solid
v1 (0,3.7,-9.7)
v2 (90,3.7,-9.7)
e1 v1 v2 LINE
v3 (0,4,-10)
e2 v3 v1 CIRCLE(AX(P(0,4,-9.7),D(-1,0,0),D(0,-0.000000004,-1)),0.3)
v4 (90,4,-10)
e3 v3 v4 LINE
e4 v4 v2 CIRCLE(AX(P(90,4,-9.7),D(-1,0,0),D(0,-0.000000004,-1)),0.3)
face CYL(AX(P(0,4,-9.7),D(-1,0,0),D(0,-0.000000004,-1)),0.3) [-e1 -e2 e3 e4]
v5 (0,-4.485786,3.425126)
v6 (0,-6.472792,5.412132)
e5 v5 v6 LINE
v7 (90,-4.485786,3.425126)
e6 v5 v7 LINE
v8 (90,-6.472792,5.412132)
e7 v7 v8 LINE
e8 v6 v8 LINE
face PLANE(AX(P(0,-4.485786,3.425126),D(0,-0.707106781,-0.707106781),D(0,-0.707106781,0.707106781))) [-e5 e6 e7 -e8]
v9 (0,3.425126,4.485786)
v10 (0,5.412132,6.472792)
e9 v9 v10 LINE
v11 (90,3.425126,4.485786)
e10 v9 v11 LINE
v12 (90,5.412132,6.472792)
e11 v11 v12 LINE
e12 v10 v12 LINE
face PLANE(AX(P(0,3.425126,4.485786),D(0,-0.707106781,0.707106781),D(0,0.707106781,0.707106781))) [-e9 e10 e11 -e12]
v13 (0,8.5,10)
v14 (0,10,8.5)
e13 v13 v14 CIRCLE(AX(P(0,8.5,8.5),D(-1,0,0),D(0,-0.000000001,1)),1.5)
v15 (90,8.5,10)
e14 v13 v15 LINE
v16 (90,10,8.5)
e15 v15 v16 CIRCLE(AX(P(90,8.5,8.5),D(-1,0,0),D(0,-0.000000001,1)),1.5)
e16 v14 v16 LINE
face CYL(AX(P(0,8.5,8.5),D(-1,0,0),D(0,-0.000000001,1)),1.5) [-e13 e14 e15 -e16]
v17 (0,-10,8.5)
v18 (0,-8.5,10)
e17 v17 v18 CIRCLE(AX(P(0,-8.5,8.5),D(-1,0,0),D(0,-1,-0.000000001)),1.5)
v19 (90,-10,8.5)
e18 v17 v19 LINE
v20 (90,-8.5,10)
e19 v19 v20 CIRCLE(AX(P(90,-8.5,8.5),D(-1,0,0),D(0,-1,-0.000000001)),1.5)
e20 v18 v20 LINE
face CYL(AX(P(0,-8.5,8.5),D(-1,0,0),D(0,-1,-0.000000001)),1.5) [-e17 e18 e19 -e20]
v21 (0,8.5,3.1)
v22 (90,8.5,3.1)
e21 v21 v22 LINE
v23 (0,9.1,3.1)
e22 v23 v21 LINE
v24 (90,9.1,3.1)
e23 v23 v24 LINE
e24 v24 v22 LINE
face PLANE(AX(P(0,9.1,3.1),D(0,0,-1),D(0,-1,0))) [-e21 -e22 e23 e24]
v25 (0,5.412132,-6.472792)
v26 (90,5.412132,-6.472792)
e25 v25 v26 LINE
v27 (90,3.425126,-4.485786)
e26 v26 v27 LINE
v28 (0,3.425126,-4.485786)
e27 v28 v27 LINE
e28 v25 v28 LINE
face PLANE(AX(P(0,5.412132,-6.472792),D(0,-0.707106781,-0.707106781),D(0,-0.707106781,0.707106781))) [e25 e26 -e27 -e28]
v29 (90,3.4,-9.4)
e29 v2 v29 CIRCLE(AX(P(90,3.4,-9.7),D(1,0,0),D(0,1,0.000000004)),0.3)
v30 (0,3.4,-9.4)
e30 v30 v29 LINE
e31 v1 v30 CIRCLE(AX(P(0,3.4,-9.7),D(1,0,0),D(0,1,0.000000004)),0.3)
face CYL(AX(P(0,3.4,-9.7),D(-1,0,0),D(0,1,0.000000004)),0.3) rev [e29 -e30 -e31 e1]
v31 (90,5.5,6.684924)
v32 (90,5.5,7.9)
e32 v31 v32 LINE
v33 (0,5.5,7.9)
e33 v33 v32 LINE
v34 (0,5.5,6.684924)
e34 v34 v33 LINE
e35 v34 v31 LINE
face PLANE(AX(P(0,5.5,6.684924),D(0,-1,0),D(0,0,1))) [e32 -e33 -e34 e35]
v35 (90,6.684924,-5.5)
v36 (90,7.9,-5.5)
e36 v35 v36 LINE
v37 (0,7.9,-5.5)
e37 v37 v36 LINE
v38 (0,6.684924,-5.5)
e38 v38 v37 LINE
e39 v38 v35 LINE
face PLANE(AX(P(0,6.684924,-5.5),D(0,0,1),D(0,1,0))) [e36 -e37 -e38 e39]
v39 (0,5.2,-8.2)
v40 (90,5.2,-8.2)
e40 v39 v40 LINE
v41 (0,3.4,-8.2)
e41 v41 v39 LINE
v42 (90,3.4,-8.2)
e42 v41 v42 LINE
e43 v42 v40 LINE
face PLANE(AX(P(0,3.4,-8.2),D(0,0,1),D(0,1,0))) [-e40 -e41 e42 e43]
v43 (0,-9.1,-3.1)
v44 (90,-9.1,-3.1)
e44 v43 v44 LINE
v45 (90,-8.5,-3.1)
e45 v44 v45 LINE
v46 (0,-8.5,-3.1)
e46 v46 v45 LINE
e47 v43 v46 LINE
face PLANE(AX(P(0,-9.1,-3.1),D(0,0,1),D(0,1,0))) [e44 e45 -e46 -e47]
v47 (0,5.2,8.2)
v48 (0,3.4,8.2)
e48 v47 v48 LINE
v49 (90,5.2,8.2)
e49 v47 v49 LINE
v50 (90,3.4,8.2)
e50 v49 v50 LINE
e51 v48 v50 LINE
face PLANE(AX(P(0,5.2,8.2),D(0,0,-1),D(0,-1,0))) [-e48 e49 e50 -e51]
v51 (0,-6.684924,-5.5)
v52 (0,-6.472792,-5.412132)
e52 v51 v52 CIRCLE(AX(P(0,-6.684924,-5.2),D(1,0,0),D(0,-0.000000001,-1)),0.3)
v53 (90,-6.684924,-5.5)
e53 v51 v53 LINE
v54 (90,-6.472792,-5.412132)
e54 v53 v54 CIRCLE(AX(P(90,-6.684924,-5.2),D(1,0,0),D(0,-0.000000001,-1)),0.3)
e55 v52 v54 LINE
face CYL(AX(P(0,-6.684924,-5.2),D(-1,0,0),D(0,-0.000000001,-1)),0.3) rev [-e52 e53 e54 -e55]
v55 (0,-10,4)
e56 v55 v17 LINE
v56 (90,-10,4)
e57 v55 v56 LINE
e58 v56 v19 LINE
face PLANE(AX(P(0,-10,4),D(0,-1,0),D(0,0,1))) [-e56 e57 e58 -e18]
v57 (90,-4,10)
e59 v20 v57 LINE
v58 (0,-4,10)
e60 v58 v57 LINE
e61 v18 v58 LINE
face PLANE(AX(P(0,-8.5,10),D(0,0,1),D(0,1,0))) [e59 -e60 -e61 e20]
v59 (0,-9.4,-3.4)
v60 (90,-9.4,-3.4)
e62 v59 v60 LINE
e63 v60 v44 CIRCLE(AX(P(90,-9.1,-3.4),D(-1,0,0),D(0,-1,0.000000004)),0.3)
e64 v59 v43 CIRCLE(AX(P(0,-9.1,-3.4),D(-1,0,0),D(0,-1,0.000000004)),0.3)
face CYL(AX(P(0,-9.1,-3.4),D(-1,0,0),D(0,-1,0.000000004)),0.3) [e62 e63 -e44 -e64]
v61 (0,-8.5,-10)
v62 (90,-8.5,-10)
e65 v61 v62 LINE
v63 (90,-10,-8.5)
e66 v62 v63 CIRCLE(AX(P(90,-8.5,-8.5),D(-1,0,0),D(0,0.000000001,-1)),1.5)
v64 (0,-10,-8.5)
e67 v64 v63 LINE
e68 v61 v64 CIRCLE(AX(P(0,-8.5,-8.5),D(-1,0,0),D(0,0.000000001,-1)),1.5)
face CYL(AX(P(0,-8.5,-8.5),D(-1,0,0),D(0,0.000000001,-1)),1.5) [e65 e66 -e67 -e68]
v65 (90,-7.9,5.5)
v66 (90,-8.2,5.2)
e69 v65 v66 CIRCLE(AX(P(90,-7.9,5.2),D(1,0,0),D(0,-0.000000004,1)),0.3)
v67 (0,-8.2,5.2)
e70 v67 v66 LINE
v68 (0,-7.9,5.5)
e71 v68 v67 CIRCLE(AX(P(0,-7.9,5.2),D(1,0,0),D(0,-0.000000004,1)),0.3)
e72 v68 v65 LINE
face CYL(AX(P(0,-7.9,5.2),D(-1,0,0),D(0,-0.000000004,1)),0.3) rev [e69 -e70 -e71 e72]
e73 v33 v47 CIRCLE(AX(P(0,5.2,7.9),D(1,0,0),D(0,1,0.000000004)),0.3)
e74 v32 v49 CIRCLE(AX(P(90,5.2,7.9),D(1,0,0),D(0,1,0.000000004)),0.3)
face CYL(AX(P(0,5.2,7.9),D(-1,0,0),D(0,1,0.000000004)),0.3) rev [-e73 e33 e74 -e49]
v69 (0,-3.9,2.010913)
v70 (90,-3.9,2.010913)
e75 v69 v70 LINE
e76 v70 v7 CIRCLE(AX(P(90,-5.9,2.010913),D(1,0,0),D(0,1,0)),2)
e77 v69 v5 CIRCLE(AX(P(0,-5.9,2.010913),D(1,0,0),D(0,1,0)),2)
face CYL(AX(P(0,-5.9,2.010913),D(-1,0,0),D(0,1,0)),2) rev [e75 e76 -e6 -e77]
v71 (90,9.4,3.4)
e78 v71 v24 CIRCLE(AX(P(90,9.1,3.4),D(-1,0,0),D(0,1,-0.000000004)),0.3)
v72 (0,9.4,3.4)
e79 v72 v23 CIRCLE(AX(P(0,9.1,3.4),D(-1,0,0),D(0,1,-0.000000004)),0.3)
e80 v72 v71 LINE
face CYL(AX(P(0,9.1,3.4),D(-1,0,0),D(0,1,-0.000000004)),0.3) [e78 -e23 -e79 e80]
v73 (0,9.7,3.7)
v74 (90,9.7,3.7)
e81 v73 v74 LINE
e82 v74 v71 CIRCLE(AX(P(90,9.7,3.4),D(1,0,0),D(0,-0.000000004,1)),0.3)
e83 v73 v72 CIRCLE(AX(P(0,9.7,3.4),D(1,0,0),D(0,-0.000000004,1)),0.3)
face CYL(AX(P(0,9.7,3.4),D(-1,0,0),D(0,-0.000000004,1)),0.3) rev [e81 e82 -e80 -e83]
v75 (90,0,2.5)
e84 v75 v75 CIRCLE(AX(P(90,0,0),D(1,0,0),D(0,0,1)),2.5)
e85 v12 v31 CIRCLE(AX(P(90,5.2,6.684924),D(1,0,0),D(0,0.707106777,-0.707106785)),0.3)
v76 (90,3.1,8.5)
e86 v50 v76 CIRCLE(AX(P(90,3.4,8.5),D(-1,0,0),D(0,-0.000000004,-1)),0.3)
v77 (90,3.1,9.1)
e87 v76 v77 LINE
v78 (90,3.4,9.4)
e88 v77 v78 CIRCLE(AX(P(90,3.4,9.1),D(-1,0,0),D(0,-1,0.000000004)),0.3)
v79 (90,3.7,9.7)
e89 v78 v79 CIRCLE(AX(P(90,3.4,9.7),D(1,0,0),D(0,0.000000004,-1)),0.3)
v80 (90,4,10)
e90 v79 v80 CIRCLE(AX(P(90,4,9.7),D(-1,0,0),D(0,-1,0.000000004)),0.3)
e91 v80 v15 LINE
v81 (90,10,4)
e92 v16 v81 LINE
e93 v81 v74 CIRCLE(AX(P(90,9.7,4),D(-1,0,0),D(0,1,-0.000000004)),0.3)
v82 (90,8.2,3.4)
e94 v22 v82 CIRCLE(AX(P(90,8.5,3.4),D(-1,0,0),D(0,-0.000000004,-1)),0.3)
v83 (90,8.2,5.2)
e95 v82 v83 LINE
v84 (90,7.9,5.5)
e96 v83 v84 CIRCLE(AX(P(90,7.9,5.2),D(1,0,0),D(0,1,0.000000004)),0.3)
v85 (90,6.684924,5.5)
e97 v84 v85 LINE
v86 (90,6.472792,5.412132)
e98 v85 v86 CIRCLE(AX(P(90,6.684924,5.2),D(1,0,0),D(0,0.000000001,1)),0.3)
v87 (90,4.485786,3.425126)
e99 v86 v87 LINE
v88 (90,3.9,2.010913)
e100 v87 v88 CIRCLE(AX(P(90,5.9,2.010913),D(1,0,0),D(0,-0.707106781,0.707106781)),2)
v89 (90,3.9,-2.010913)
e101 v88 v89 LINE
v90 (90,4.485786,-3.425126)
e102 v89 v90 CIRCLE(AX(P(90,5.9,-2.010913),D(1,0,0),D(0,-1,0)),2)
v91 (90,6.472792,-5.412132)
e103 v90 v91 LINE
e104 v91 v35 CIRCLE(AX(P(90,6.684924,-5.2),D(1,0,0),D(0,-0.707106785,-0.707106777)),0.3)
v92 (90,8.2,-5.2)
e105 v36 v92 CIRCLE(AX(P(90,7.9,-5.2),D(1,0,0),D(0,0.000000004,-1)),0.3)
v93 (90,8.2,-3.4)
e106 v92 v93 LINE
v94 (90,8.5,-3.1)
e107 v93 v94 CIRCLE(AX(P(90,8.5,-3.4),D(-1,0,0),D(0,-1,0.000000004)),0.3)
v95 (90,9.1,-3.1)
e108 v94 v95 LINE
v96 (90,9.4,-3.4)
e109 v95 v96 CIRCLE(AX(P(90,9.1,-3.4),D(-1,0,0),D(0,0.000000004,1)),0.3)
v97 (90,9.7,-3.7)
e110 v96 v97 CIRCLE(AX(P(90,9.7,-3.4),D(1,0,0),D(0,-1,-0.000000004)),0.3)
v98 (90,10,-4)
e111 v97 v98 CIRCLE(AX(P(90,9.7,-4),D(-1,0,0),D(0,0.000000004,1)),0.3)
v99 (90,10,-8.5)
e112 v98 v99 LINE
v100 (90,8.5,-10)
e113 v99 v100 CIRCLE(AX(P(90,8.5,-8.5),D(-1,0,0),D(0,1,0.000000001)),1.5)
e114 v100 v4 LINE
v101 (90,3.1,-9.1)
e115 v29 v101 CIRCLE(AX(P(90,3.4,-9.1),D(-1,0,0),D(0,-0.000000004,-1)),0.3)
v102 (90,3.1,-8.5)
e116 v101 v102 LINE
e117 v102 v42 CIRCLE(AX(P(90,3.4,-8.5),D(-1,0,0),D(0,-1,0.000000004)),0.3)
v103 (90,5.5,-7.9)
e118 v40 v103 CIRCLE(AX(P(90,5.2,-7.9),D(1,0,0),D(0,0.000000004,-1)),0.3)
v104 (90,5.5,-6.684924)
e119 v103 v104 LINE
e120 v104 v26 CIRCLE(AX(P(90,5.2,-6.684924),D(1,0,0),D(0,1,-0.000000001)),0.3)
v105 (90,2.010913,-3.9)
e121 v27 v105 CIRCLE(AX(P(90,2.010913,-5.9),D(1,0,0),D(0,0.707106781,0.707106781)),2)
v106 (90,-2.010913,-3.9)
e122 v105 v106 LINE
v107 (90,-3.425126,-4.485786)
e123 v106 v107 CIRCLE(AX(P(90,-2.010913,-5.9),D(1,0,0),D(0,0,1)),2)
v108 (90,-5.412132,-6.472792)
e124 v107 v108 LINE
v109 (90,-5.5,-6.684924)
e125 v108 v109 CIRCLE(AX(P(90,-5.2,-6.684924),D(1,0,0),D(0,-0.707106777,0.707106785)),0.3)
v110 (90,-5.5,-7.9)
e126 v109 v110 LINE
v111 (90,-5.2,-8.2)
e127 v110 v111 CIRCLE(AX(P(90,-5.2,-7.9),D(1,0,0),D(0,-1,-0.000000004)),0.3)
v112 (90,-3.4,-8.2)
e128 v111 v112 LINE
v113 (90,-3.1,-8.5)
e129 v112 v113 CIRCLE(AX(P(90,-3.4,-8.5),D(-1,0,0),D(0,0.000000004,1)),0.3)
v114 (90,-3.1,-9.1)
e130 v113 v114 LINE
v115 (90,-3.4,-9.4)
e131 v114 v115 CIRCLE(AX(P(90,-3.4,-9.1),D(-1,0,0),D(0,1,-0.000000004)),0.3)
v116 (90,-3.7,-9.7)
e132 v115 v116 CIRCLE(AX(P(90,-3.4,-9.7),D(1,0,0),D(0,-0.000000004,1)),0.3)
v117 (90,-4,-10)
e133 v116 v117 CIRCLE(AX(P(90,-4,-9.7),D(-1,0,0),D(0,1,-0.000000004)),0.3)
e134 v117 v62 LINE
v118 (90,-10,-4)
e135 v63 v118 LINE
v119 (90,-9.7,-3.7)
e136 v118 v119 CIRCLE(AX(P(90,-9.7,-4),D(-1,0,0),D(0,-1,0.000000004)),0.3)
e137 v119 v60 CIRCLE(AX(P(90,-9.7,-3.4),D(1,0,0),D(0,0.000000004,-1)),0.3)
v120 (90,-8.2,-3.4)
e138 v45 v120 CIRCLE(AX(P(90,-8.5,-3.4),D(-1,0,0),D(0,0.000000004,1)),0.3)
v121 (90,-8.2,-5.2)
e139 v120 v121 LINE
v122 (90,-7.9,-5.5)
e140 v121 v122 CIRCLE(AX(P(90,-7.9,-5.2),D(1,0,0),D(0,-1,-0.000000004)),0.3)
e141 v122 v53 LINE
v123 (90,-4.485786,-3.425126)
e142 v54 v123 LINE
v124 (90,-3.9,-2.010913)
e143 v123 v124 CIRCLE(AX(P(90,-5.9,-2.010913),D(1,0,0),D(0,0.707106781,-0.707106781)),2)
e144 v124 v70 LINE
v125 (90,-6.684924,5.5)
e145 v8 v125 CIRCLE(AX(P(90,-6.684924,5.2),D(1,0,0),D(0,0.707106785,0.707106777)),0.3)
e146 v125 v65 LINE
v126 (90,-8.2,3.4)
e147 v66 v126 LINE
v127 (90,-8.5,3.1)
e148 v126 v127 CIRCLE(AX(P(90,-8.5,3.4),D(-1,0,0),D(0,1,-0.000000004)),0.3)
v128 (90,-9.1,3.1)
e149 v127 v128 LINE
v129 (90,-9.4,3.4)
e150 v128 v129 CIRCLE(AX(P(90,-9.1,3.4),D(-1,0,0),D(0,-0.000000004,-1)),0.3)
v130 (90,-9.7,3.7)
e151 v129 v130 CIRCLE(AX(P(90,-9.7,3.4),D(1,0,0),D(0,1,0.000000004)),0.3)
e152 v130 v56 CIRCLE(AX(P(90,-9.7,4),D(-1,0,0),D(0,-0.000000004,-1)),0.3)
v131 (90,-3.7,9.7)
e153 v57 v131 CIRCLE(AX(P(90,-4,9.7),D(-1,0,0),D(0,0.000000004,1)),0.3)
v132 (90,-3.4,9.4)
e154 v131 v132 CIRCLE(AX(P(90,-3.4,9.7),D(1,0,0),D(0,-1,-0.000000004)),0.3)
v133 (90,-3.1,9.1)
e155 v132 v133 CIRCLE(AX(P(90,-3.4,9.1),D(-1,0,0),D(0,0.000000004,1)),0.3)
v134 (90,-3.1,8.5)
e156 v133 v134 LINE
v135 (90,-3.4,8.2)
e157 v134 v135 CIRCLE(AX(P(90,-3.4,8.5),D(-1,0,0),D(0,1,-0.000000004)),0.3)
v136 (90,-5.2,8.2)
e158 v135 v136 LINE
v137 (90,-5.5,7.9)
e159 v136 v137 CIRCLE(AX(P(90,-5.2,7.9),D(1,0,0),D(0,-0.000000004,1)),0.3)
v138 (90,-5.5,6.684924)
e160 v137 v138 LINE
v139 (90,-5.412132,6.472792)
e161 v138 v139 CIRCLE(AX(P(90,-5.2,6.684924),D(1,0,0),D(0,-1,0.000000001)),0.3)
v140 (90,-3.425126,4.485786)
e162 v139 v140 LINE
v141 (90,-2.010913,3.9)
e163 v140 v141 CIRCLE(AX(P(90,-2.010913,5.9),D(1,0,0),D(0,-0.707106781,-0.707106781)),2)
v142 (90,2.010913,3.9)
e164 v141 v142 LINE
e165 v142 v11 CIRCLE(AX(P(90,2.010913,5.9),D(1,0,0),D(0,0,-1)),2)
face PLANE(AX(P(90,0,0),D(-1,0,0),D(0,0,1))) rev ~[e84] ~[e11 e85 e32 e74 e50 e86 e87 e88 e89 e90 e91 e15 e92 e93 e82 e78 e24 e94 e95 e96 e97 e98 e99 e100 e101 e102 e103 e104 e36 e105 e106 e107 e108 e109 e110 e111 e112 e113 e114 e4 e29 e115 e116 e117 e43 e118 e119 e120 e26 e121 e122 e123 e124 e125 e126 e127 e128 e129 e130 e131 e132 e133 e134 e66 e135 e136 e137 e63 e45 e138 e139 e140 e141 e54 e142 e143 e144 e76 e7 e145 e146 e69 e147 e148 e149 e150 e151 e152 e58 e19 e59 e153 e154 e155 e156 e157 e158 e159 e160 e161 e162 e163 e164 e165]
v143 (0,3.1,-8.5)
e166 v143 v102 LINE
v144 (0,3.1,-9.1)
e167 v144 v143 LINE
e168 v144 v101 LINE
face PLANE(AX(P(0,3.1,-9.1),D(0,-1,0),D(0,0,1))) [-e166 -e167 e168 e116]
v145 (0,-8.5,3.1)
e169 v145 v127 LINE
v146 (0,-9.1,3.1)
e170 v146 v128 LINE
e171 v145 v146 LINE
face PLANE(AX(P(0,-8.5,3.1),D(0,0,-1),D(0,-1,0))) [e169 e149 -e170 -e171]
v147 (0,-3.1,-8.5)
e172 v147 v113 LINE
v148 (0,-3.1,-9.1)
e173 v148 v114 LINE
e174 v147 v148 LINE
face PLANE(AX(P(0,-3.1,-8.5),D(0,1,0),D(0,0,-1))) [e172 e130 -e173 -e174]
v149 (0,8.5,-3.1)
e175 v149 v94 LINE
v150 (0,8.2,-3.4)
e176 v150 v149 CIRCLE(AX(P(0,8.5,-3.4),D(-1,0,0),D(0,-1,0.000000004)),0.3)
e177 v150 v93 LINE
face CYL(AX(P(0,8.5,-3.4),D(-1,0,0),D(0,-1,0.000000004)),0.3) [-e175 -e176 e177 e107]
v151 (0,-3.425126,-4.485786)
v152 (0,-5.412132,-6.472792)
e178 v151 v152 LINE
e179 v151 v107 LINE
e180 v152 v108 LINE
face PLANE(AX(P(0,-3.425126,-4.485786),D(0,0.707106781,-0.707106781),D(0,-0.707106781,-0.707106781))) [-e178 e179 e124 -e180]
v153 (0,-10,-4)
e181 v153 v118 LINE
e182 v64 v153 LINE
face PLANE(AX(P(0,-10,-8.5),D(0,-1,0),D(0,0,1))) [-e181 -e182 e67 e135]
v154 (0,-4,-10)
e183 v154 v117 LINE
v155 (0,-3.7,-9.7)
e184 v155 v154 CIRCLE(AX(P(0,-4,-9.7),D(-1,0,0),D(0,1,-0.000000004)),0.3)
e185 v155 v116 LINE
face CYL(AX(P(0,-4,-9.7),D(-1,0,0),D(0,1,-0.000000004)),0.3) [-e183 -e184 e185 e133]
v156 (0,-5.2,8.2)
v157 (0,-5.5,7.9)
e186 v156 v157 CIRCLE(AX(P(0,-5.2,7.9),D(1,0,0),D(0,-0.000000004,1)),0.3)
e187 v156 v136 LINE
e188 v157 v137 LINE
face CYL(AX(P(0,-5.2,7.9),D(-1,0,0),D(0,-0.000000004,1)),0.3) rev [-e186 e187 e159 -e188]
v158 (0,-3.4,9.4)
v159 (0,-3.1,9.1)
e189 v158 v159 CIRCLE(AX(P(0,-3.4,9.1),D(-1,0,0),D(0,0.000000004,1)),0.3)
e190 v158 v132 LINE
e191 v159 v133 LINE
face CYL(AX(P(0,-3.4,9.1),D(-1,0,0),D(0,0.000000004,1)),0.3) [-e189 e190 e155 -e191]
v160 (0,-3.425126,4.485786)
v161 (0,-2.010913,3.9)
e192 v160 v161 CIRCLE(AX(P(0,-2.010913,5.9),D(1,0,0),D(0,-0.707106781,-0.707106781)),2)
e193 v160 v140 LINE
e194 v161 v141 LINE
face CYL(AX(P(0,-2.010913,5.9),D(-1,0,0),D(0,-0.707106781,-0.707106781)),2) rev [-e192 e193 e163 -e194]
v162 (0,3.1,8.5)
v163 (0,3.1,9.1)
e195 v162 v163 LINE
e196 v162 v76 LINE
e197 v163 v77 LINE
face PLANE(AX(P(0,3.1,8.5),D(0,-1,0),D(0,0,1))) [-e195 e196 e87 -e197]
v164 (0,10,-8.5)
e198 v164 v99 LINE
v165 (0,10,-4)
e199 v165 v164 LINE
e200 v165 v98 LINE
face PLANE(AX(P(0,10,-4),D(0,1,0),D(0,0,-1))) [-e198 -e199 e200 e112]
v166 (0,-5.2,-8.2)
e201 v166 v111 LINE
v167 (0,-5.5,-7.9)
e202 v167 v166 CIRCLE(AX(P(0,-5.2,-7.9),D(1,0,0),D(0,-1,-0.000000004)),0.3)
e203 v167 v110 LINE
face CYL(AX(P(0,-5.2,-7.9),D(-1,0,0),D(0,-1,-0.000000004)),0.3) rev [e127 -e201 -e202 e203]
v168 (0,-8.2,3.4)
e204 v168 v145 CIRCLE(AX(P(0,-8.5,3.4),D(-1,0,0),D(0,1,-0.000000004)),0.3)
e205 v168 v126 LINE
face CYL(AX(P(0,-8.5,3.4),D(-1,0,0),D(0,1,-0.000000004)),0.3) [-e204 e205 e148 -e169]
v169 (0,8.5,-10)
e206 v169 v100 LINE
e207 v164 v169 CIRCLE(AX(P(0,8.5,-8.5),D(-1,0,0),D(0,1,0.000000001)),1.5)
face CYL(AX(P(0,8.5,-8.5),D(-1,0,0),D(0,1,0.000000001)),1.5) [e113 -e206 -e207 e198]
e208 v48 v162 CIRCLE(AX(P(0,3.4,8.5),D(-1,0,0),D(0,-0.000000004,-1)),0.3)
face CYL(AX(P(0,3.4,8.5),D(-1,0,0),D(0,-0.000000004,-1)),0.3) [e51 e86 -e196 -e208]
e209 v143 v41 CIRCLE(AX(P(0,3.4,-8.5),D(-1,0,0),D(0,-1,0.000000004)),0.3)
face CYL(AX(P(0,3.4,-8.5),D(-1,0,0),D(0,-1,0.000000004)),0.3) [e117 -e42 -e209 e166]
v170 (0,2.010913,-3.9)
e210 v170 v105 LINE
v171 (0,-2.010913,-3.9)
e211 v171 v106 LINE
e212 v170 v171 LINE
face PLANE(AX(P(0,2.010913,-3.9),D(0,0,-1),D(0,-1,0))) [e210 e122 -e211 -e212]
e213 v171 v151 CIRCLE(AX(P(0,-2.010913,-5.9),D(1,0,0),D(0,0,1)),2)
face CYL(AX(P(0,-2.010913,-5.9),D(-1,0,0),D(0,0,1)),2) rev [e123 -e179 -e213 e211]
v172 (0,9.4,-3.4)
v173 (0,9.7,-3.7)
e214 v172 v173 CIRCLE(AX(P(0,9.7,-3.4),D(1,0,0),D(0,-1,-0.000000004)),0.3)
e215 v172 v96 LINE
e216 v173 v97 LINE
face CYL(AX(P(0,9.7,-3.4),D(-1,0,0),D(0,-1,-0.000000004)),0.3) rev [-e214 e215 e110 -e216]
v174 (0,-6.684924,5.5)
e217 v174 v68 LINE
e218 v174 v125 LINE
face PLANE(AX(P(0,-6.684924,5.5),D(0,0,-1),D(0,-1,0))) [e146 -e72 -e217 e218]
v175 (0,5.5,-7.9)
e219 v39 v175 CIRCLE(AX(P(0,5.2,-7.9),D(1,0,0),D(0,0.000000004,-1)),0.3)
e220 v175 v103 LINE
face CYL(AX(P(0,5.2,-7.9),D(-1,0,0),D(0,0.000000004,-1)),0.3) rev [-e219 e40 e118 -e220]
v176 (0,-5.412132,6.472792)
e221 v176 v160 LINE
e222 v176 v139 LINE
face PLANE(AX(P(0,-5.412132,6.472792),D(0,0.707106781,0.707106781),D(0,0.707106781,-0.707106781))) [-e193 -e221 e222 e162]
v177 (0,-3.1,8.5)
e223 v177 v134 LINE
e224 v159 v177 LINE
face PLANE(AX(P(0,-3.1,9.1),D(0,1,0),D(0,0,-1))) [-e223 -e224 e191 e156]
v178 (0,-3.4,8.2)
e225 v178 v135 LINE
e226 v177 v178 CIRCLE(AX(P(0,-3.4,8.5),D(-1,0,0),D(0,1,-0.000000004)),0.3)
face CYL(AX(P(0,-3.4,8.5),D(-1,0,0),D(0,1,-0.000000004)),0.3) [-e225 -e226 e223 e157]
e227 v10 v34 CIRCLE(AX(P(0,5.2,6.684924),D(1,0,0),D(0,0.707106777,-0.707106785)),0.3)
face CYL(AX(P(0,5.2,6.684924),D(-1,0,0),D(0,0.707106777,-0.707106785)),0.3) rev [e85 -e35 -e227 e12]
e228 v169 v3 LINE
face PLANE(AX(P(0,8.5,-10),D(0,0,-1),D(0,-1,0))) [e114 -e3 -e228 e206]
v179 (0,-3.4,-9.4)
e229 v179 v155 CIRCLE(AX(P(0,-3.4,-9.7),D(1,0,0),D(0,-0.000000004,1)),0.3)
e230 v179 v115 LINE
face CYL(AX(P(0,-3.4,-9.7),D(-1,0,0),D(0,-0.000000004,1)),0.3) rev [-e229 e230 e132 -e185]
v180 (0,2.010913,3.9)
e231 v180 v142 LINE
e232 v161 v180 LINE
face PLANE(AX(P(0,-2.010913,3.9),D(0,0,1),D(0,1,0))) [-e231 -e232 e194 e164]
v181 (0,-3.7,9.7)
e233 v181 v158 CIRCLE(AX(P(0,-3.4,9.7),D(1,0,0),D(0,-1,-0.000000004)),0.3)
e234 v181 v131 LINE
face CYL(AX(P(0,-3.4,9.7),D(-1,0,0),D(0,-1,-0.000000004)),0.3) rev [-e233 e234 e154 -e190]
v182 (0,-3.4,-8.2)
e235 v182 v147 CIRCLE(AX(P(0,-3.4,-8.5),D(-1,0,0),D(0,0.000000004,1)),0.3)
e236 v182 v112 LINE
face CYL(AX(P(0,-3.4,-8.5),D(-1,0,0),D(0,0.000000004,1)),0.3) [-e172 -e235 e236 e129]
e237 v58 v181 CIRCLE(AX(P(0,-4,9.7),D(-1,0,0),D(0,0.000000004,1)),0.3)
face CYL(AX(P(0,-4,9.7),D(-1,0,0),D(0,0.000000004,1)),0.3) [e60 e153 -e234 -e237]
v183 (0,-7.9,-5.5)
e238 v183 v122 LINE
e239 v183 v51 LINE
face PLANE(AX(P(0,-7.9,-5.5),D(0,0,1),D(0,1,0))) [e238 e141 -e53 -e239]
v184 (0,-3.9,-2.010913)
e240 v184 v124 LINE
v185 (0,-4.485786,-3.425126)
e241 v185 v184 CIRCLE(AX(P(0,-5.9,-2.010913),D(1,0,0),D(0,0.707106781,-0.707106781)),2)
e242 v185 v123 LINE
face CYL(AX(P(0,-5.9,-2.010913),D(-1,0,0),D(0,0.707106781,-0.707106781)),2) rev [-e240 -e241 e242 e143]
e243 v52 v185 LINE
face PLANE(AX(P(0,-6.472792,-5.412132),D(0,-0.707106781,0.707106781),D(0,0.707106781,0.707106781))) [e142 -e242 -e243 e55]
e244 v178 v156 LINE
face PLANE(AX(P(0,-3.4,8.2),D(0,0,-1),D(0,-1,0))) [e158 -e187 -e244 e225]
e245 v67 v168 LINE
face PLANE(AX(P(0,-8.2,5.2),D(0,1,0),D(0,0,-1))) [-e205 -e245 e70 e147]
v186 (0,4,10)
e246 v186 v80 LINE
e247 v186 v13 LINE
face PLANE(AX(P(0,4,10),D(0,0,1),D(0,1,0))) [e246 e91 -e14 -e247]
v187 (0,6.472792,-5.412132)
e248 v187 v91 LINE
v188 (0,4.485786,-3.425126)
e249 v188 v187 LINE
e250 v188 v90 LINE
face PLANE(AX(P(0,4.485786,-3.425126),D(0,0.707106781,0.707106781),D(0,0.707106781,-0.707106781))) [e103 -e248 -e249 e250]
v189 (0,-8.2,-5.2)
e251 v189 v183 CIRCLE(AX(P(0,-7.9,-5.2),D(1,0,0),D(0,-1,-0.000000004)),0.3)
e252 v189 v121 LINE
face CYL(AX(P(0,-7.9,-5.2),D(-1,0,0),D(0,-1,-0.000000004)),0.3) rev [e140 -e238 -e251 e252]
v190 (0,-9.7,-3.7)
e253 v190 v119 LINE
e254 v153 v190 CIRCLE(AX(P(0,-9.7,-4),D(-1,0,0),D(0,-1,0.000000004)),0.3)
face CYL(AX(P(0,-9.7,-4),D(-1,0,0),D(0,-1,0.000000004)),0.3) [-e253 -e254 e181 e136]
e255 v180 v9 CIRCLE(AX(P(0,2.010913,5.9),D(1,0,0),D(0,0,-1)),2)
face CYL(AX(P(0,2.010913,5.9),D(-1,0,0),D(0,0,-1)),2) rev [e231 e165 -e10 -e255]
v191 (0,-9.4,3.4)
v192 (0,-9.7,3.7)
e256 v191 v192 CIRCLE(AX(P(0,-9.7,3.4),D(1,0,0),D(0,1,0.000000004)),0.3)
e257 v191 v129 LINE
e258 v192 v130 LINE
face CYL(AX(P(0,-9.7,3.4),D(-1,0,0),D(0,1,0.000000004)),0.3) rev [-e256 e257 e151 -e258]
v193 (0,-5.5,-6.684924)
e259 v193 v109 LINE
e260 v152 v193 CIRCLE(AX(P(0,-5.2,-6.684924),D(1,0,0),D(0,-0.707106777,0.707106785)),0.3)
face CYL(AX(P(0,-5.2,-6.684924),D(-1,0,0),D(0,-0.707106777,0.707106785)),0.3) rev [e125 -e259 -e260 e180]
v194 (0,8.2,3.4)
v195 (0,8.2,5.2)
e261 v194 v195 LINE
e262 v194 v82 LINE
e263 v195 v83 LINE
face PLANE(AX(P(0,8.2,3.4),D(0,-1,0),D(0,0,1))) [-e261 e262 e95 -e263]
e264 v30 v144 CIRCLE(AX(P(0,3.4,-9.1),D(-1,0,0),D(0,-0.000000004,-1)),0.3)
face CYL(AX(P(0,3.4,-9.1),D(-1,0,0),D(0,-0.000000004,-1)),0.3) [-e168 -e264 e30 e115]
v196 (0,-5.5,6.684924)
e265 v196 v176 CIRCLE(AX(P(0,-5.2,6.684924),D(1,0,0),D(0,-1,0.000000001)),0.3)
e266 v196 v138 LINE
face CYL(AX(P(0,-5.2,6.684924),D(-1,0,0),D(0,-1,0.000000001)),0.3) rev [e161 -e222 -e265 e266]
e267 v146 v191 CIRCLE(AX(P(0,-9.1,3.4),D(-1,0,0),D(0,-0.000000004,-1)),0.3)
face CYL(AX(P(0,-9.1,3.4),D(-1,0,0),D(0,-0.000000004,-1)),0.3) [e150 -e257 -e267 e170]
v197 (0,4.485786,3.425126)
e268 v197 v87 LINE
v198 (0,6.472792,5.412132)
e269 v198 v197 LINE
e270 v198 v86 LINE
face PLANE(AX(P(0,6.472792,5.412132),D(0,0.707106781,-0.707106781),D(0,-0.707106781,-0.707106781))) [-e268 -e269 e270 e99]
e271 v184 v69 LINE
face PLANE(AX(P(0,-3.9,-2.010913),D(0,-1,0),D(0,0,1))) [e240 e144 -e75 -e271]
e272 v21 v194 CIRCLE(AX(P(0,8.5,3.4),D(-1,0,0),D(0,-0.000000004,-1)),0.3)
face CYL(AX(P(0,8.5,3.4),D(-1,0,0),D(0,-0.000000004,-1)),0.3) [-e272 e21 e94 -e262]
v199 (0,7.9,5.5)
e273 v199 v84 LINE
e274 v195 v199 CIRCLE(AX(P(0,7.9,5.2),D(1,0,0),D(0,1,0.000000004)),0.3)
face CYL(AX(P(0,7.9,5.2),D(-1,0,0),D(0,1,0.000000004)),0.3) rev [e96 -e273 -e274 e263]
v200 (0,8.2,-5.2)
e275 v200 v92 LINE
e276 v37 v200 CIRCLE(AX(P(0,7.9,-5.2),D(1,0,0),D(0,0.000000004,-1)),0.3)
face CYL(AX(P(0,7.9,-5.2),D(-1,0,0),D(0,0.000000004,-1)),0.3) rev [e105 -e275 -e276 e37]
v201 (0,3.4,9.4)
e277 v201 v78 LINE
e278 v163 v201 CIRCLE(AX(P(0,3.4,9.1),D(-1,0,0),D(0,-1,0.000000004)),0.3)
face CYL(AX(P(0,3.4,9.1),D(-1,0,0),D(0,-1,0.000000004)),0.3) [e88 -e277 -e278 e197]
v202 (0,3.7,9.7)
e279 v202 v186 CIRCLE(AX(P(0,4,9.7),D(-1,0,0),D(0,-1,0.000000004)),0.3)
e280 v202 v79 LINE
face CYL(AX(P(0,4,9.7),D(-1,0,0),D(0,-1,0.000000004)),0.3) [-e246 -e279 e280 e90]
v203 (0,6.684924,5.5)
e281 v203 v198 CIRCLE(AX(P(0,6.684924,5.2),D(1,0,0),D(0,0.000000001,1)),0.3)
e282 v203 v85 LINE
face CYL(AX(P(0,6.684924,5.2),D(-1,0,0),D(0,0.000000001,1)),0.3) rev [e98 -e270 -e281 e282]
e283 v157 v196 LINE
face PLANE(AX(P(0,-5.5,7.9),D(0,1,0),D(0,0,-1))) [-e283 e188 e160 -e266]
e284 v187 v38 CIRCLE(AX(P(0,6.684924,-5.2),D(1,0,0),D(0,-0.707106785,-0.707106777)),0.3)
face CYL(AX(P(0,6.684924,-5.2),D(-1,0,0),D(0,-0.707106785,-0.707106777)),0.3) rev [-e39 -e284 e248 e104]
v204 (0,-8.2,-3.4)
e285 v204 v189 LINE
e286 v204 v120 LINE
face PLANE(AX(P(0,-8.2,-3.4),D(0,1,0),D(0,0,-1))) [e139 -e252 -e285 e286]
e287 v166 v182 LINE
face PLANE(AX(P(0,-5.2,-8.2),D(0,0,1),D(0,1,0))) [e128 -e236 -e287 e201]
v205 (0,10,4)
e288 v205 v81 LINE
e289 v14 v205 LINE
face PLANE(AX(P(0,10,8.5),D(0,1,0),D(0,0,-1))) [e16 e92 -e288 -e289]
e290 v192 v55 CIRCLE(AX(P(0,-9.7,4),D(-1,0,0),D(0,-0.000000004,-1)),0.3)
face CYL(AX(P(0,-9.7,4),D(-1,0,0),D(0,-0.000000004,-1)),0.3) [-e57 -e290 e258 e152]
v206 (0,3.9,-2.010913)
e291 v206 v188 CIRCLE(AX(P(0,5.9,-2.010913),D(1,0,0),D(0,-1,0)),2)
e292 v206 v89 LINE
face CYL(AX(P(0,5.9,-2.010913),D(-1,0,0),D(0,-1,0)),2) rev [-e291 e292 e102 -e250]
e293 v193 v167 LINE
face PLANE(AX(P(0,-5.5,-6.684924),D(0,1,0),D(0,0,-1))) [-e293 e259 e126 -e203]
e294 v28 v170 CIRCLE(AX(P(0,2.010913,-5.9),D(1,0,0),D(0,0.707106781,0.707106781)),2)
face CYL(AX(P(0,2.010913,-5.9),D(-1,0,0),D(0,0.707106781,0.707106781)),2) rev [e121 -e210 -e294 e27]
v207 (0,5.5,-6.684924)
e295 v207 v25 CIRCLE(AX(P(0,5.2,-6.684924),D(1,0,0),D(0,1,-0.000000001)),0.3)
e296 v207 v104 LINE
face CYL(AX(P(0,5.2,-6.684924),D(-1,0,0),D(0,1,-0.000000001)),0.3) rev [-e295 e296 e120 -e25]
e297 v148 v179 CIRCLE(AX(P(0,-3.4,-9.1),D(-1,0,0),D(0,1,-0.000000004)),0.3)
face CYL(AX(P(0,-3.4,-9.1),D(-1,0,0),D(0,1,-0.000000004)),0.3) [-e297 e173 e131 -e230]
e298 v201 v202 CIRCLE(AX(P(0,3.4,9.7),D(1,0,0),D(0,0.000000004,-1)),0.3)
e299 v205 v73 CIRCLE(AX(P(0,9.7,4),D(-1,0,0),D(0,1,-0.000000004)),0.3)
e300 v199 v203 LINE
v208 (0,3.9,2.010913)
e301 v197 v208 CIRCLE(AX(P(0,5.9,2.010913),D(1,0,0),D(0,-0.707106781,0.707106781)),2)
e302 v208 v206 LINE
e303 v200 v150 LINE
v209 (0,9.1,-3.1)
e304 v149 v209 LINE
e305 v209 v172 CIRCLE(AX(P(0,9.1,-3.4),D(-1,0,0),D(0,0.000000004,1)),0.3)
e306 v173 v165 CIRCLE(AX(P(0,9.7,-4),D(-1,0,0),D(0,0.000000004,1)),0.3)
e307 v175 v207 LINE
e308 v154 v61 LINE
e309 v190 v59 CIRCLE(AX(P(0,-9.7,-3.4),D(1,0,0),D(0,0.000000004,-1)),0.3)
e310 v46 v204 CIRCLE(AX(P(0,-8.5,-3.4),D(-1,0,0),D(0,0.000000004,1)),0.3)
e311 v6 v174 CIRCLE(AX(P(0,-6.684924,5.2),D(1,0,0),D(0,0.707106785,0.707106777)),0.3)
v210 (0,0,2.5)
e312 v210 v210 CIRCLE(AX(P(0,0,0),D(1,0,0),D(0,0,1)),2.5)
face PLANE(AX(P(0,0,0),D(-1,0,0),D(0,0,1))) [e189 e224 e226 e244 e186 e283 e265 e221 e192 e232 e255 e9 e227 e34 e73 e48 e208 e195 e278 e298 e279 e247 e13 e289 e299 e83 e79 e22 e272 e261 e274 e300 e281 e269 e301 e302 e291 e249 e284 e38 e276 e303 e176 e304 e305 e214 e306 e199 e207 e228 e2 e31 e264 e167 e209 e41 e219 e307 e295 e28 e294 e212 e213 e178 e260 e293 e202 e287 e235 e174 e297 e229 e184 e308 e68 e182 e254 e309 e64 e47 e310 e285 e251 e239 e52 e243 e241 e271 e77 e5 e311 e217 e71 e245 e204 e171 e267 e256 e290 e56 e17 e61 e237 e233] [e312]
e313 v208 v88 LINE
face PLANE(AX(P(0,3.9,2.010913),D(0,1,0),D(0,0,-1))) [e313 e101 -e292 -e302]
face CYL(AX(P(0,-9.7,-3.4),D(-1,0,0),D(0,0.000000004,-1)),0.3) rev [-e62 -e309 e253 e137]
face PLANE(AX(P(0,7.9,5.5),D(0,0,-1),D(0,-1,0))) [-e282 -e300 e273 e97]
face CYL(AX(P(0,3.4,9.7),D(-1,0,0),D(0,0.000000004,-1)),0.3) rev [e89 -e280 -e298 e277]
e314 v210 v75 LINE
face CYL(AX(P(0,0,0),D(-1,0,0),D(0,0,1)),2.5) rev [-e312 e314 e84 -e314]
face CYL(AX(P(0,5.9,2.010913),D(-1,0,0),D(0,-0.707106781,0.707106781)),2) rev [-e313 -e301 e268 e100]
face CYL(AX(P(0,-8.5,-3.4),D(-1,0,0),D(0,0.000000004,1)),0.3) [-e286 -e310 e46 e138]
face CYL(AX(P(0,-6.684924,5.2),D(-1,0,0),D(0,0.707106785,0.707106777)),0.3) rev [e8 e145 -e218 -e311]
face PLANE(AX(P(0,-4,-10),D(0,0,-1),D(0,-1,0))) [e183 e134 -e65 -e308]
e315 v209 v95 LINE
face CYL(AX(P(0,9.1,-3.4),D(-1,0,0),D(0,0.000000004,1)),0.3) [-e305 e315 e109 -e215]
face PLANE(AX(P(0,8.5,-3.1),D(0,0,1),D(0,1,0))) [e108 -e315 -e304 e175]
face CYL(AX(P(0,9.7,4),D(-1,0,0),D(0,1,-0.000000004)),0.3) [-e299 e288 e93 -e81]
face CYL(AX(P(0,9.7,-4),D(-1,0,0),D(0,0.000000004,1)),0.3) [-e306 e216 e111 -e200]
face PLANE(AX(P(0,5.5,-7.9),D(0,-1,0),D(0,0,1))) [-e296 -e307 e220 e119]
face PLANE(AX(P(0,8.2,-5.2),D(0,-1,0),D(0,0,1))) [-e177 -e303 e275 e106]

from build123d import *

# Parameters (mm, degrees)
SKETCH_1_R      = 2.5
EXTRUDE_1_DEPTH = 90


with BuildPart() as part:
    # 草图1 → 凸台-拉伸1 (new body)
    with BuildSketch(Plane(origin=(0, 0, 0), x_dir=(0, 0, -1), z_dir=(1, 0, 0))):
        with BuildLine():
            Line((10, 8.5), (10, 4))
            ThreePointArc((10, 4), (9.912132034, 3.787867966), (9.7, 3.7))
            ThreePointArc((9.7, 3.7), (9.487867966, 3.612132034), (9.4, 3.4))
            ThreePointArc((9.4, 3.4), (9.312132034, 3.187867966), (9.1, 3.1))
            Line((9.1, 3.1), (8.5, 3.1))
            ThreePointArc((8.5, 3.1), (8.287867966, 3.187867966), (8.2, 3.4))
            Line((8.2, 3.4), (8.2, 5.2))
            ThreePointArc((8.2, 5.2), (8.112132034, 5.412132034), (7.9, 5.5))
            Line((7.9, 5.5), (6.68492424, 5.5))
            ThreePointArc((6.68492424, 5.5), (6.570119211, 5.47716386), (6.472792206, 5.412132034))
            Line((6.472792206, 5.412132034), (4.485786438, 3.425126266))
            ThreePointArc((4.485786438, 3.425126266), (4.052240935, 2.776279568), (3.9, 2.010912703))
            Line((3.9, 2.010912703), (3.9, -2.010912703))
            ThreePointArc((3.9, -2.010912703), (4.052240935, -2.776279568), (4.485786438, -3.425126266))
            Line((4.485786438, -3.425126266), (6.472792206, -5.412132034))
            ThreePointArc((6.472792206, -5.412132034), (6.570119211, -5.47716386), (6.68492424, -5.5))
            Line((6.68492424, -5.5), (7.9, -5.5))
            ThreePointArc((7.9, -5.5), (8.112132034, -5.412132034), (8.2, -5.2))
            Line((8.2, -5.2), (8.2, -3.4))
            ThreePointArc((8.2, -3.4), (8.287867966, -3.187867966), (8.5, -3.1))
            Line((8.5, -3.1), (9.1, -3.1))
            ThreePointArc((9.1, -3.1), (9.312132034, -3.187867966), (9.4, -3.4))
            ThreePointArc((9.4, -3.4), (9.487867966, -3.612132034), (9.7, -3.7))
            ThreePointArc((9.7, -3.7), (9.912132034, -3.787867966), (10, -4))
            Line((10, -4), (10, -8.5))
            ThreePointArc((10, -8.5), (9.560660172, -9.560660172), (8.5, -10))
            Line((8.5, -10), (4, -10))
            ThreePointArc((4, -10), (3.787867966, -9.912132034), (3.7, -9.7))
            ThreePointArc((3.7, -9.7), (3.612132034, -9.487867966), (3.4, -9.4))
            ThreePointArc((3.4, -9.4), (3.187867966, -9.312132034), (3.1, -9.1))
            Line((3.1, -9.1), (3.1, -8.5))
            ThreePointArc((3.1, -8.5), (3.187867966, -8.287867966), (3.4, -8.2))
            Line((3.4, -8.2), (5.2, -8.2))
            ThreePointArc((5.2, -8.2), (5.412132034, -8.112132034), (5.5, -7.9))
            Line((5.5, -7.9), (5.5, -6.68492424))
            ThreePointArc((5.5, -6.68492424), (5.47716386, -6.570119211), (5.412132034, -6.472792206))
            Line((5.412132034, -6.472792206), (3.425126266, -4.485786438))
            ThreePointArc((3.425126266, -4.485786438), (2.776279568, -4.052240935), (2.010912703, -3.9))
            Line((2.010912703, -3.9), (-2.010912703, -3.9))
            ThreePointArc((-2.010912703, -3.9), (-2.776279568, -4.052240935), (-3.425126266, -4.485786438))
            Line((-3.425126266, -4.485786438), (-5.412132034, -6.472792206))
            ThreePointArc((-5.412132034, -6.472792206), (-5.47716386, -6.570119211), (-5.5, -6.68492424))
            Line((-5.5, -6.68492424), (-5.5, -7.9))
            ThreePointArc((-5.5, -7.9), (-5.412132034, -8.112132034), (-5.2, -8.2))
            Line((-5.2, -8.2), (-3.4, -8.2))
            ThreePointArc((-3.4, -8.2), (-3.187867966, -8.287867966), (-3.1, -8.5))
            Line((-3.1, -8.5), (-3.1, -9.1))
            ThreePointArc((-3.1, -9.1), (-3.187867966, -9.312132034), (-3.4, -9.4))
            ThreePointArc((-3.4, -9.4), (-3.612132034, -9.487867966), (-3.7, -9.7))
            ThreePointArc((-3.7, -9.7), (-3.787867966, -9.912132034), (-4, -10))
            Line((-4, -10), (-8.5, -10))
            ThreePointArc((-8.5, -10), (-9.560660172, -9.560660172), (-10, -8.5))
            Line((-10, -8.5), (-10, -4))
            ThreePointArc((-10, -4), (-9.912132034, -3.787867966), (-9.7, -3.7))
            ThreePointArc((-9.7, -3.7), (-9.487867966, -3.612132034), (-9.4, -3.4))
            ThreePointArc((-9.4, -3.4), (-9.312132034, -3.187867966), (-9.1, -3.1))
            Line((-9.1, -3.1), (-8.5, -3.1))
            ThreePointArc((-8.5, -3.1), (-8.287867966, -3.187867966), (-8.2, -3.4))
            Line((-8.2, -3.4), (-8.2, -5.2))
            ThreePointArc((-8.2, -5.2), (-8.112132034, -5.412132034), (-7.9, -5.5))
            Line((-7.9, -5.5), (-6.68492424, -5.5))
            ThreePointArc((-6.68492424, -5.5), (-6.570119211, -5.47716386), (-6.472792206, -5.412132034))
            Line((-6.472792206, -5.412132034), (-4.485786438, -3.425126266))
            ThreePointArc((-4.485786438, -3.425126266), (-4.052240935, -2.776279568), (-3.9, -2.010912703))
            Line((-3.9, -2.010912703), (-3.9, 2.010912703))
            ThreePointArc((-3.9, 2.010912703), (-4.052240935, 2.776279568), (-4.485786438, 3.425126266))
            Line((-4.485786438, 3.425126266), (-6.472792206, 5.412132034))
            ThreePointArc((-6.472792206, 5.412132034), (-6.570119211, 5.47716386), (-6.68492424, 5.5))
            Line((-6.68492424, 5.5), (-7.9, 5.5))
            ThreePointArc((-7.9, 5.5), (-8.112132034, 5.412132034), (-8.2, 5.2))
            Line((-8.2, 5.2), (-8.2, 3.4))
            ThreePointArc((-8.2, 3.4), (-8.287867966, 3.187867966), (-8.5, 3.1))
            Line((-8.5, 3.1), (-9.1, 3.1))
            ThreePointArc((-9.1, 3.1), (-9.312132034, 3.187867966), (-9.4, 3.4))
            ThreePointArc((-9.4, 3.4), (-9.487867966, 3.612132034), (-9.7, 3.7))
            ThreePointArc((-9.7, 3.7), (-9.912132034, 3.787867966), (-10, 4))
            Line((-10, 4), (-10, 8.5))
            ThreePointArc((-10, 8.5), (-9.560660172, 9.560660172), (-8.5, 10))
            Line((-8.5, 10), (-4, 10))
            ThreePointArc((-4, 10), (-3.787867966, 9.912132034), (-3.7, 9.7))
            ThreePointArc((-3.7, 9.7), (-3.612132034, 9.487867966), (-3.4, 9.4))
            ThreePointArc((-3.4, 9.4), (-3.187867966, 9.312132034), (-3.1, 9.1))
            Line((-3.1, 9.1), (-3.1, 8.5))
            ThreePointArc((-3.1, 8.5), (-3.187867966, 8.287867966), (-3.4, 8.2))
            Line((-3.4, 8.2), (-5.2, 8.2))
            ThreePointArc((-5.2, 8.2), (-5.412132034, 8.112132034), (-5.5, 7.9))
            Line((-5.5, 7.9), (-5.5, 6.68492424))
            ThreePointArc((-5.5, 6.68492424), (-5.47716386, 6.570119211), (-5.412132034, 6.472792206))
            Line((-5.412132034, 6.472792206), (-3.425126266, 4.485786438))
            ThreePointArc((-3.425126266, 4.485786438), (-2.776279568, 4.052240935), (-2.010912703, 3.9))
            Line((-2.010912703, 3.9), (2.010912703, 3.9))
            ThreePointArc((2.010912703, 3.9), (2.776279568, 4.052240935), (3.425126266, 4.485786438))
            Line((3.425126266, 4.485786438), (5.412132034, 6.472792206))
            ThreePointArc((5.412132034, 6.472792206), (5.47716386, 6.570119211), (5.5, 6.68492424))
            Line((5.5, 6.68492424), (5.5, 7.9))
            ThreePointArc((5.5, 7.9), (5.412132034, 8.112132034), (5.2, 8.2))
            Line((5.2, 8.2), (3.4, 8.2))
            ThreePointArc((3.4, 8.2), (3.187867966, 8.287867966), (3.1, 8.5))
            Line((3.1, 8.5), (3.1, 9.1))
            ThreePointArc((3.1, 9.1), (3.187867966, 9.312132034), (3.4, 9.4))
            ThreePointArc((3.4, 9.4), (3.612132034, 9.487867966), (3.7, 9.7))
            ThreePointArc((3.7, 9.7), (3.787867966, 9.912132034), (4, 10))
            Line((4, 10), (8.5, 10))
            ThreePointArc((8.5, 10), (9.560660172, 9.560660172), (10, 8.5))
        make_face()
        with Locations(Location((0, 0, 0), (0, 0, 180))):
            Circle(SKETCH_1_R, mode=Mode.SUBTRACT)
    extrude(amount=EXTRUDE_1_DEPTH)


solid = part.part
